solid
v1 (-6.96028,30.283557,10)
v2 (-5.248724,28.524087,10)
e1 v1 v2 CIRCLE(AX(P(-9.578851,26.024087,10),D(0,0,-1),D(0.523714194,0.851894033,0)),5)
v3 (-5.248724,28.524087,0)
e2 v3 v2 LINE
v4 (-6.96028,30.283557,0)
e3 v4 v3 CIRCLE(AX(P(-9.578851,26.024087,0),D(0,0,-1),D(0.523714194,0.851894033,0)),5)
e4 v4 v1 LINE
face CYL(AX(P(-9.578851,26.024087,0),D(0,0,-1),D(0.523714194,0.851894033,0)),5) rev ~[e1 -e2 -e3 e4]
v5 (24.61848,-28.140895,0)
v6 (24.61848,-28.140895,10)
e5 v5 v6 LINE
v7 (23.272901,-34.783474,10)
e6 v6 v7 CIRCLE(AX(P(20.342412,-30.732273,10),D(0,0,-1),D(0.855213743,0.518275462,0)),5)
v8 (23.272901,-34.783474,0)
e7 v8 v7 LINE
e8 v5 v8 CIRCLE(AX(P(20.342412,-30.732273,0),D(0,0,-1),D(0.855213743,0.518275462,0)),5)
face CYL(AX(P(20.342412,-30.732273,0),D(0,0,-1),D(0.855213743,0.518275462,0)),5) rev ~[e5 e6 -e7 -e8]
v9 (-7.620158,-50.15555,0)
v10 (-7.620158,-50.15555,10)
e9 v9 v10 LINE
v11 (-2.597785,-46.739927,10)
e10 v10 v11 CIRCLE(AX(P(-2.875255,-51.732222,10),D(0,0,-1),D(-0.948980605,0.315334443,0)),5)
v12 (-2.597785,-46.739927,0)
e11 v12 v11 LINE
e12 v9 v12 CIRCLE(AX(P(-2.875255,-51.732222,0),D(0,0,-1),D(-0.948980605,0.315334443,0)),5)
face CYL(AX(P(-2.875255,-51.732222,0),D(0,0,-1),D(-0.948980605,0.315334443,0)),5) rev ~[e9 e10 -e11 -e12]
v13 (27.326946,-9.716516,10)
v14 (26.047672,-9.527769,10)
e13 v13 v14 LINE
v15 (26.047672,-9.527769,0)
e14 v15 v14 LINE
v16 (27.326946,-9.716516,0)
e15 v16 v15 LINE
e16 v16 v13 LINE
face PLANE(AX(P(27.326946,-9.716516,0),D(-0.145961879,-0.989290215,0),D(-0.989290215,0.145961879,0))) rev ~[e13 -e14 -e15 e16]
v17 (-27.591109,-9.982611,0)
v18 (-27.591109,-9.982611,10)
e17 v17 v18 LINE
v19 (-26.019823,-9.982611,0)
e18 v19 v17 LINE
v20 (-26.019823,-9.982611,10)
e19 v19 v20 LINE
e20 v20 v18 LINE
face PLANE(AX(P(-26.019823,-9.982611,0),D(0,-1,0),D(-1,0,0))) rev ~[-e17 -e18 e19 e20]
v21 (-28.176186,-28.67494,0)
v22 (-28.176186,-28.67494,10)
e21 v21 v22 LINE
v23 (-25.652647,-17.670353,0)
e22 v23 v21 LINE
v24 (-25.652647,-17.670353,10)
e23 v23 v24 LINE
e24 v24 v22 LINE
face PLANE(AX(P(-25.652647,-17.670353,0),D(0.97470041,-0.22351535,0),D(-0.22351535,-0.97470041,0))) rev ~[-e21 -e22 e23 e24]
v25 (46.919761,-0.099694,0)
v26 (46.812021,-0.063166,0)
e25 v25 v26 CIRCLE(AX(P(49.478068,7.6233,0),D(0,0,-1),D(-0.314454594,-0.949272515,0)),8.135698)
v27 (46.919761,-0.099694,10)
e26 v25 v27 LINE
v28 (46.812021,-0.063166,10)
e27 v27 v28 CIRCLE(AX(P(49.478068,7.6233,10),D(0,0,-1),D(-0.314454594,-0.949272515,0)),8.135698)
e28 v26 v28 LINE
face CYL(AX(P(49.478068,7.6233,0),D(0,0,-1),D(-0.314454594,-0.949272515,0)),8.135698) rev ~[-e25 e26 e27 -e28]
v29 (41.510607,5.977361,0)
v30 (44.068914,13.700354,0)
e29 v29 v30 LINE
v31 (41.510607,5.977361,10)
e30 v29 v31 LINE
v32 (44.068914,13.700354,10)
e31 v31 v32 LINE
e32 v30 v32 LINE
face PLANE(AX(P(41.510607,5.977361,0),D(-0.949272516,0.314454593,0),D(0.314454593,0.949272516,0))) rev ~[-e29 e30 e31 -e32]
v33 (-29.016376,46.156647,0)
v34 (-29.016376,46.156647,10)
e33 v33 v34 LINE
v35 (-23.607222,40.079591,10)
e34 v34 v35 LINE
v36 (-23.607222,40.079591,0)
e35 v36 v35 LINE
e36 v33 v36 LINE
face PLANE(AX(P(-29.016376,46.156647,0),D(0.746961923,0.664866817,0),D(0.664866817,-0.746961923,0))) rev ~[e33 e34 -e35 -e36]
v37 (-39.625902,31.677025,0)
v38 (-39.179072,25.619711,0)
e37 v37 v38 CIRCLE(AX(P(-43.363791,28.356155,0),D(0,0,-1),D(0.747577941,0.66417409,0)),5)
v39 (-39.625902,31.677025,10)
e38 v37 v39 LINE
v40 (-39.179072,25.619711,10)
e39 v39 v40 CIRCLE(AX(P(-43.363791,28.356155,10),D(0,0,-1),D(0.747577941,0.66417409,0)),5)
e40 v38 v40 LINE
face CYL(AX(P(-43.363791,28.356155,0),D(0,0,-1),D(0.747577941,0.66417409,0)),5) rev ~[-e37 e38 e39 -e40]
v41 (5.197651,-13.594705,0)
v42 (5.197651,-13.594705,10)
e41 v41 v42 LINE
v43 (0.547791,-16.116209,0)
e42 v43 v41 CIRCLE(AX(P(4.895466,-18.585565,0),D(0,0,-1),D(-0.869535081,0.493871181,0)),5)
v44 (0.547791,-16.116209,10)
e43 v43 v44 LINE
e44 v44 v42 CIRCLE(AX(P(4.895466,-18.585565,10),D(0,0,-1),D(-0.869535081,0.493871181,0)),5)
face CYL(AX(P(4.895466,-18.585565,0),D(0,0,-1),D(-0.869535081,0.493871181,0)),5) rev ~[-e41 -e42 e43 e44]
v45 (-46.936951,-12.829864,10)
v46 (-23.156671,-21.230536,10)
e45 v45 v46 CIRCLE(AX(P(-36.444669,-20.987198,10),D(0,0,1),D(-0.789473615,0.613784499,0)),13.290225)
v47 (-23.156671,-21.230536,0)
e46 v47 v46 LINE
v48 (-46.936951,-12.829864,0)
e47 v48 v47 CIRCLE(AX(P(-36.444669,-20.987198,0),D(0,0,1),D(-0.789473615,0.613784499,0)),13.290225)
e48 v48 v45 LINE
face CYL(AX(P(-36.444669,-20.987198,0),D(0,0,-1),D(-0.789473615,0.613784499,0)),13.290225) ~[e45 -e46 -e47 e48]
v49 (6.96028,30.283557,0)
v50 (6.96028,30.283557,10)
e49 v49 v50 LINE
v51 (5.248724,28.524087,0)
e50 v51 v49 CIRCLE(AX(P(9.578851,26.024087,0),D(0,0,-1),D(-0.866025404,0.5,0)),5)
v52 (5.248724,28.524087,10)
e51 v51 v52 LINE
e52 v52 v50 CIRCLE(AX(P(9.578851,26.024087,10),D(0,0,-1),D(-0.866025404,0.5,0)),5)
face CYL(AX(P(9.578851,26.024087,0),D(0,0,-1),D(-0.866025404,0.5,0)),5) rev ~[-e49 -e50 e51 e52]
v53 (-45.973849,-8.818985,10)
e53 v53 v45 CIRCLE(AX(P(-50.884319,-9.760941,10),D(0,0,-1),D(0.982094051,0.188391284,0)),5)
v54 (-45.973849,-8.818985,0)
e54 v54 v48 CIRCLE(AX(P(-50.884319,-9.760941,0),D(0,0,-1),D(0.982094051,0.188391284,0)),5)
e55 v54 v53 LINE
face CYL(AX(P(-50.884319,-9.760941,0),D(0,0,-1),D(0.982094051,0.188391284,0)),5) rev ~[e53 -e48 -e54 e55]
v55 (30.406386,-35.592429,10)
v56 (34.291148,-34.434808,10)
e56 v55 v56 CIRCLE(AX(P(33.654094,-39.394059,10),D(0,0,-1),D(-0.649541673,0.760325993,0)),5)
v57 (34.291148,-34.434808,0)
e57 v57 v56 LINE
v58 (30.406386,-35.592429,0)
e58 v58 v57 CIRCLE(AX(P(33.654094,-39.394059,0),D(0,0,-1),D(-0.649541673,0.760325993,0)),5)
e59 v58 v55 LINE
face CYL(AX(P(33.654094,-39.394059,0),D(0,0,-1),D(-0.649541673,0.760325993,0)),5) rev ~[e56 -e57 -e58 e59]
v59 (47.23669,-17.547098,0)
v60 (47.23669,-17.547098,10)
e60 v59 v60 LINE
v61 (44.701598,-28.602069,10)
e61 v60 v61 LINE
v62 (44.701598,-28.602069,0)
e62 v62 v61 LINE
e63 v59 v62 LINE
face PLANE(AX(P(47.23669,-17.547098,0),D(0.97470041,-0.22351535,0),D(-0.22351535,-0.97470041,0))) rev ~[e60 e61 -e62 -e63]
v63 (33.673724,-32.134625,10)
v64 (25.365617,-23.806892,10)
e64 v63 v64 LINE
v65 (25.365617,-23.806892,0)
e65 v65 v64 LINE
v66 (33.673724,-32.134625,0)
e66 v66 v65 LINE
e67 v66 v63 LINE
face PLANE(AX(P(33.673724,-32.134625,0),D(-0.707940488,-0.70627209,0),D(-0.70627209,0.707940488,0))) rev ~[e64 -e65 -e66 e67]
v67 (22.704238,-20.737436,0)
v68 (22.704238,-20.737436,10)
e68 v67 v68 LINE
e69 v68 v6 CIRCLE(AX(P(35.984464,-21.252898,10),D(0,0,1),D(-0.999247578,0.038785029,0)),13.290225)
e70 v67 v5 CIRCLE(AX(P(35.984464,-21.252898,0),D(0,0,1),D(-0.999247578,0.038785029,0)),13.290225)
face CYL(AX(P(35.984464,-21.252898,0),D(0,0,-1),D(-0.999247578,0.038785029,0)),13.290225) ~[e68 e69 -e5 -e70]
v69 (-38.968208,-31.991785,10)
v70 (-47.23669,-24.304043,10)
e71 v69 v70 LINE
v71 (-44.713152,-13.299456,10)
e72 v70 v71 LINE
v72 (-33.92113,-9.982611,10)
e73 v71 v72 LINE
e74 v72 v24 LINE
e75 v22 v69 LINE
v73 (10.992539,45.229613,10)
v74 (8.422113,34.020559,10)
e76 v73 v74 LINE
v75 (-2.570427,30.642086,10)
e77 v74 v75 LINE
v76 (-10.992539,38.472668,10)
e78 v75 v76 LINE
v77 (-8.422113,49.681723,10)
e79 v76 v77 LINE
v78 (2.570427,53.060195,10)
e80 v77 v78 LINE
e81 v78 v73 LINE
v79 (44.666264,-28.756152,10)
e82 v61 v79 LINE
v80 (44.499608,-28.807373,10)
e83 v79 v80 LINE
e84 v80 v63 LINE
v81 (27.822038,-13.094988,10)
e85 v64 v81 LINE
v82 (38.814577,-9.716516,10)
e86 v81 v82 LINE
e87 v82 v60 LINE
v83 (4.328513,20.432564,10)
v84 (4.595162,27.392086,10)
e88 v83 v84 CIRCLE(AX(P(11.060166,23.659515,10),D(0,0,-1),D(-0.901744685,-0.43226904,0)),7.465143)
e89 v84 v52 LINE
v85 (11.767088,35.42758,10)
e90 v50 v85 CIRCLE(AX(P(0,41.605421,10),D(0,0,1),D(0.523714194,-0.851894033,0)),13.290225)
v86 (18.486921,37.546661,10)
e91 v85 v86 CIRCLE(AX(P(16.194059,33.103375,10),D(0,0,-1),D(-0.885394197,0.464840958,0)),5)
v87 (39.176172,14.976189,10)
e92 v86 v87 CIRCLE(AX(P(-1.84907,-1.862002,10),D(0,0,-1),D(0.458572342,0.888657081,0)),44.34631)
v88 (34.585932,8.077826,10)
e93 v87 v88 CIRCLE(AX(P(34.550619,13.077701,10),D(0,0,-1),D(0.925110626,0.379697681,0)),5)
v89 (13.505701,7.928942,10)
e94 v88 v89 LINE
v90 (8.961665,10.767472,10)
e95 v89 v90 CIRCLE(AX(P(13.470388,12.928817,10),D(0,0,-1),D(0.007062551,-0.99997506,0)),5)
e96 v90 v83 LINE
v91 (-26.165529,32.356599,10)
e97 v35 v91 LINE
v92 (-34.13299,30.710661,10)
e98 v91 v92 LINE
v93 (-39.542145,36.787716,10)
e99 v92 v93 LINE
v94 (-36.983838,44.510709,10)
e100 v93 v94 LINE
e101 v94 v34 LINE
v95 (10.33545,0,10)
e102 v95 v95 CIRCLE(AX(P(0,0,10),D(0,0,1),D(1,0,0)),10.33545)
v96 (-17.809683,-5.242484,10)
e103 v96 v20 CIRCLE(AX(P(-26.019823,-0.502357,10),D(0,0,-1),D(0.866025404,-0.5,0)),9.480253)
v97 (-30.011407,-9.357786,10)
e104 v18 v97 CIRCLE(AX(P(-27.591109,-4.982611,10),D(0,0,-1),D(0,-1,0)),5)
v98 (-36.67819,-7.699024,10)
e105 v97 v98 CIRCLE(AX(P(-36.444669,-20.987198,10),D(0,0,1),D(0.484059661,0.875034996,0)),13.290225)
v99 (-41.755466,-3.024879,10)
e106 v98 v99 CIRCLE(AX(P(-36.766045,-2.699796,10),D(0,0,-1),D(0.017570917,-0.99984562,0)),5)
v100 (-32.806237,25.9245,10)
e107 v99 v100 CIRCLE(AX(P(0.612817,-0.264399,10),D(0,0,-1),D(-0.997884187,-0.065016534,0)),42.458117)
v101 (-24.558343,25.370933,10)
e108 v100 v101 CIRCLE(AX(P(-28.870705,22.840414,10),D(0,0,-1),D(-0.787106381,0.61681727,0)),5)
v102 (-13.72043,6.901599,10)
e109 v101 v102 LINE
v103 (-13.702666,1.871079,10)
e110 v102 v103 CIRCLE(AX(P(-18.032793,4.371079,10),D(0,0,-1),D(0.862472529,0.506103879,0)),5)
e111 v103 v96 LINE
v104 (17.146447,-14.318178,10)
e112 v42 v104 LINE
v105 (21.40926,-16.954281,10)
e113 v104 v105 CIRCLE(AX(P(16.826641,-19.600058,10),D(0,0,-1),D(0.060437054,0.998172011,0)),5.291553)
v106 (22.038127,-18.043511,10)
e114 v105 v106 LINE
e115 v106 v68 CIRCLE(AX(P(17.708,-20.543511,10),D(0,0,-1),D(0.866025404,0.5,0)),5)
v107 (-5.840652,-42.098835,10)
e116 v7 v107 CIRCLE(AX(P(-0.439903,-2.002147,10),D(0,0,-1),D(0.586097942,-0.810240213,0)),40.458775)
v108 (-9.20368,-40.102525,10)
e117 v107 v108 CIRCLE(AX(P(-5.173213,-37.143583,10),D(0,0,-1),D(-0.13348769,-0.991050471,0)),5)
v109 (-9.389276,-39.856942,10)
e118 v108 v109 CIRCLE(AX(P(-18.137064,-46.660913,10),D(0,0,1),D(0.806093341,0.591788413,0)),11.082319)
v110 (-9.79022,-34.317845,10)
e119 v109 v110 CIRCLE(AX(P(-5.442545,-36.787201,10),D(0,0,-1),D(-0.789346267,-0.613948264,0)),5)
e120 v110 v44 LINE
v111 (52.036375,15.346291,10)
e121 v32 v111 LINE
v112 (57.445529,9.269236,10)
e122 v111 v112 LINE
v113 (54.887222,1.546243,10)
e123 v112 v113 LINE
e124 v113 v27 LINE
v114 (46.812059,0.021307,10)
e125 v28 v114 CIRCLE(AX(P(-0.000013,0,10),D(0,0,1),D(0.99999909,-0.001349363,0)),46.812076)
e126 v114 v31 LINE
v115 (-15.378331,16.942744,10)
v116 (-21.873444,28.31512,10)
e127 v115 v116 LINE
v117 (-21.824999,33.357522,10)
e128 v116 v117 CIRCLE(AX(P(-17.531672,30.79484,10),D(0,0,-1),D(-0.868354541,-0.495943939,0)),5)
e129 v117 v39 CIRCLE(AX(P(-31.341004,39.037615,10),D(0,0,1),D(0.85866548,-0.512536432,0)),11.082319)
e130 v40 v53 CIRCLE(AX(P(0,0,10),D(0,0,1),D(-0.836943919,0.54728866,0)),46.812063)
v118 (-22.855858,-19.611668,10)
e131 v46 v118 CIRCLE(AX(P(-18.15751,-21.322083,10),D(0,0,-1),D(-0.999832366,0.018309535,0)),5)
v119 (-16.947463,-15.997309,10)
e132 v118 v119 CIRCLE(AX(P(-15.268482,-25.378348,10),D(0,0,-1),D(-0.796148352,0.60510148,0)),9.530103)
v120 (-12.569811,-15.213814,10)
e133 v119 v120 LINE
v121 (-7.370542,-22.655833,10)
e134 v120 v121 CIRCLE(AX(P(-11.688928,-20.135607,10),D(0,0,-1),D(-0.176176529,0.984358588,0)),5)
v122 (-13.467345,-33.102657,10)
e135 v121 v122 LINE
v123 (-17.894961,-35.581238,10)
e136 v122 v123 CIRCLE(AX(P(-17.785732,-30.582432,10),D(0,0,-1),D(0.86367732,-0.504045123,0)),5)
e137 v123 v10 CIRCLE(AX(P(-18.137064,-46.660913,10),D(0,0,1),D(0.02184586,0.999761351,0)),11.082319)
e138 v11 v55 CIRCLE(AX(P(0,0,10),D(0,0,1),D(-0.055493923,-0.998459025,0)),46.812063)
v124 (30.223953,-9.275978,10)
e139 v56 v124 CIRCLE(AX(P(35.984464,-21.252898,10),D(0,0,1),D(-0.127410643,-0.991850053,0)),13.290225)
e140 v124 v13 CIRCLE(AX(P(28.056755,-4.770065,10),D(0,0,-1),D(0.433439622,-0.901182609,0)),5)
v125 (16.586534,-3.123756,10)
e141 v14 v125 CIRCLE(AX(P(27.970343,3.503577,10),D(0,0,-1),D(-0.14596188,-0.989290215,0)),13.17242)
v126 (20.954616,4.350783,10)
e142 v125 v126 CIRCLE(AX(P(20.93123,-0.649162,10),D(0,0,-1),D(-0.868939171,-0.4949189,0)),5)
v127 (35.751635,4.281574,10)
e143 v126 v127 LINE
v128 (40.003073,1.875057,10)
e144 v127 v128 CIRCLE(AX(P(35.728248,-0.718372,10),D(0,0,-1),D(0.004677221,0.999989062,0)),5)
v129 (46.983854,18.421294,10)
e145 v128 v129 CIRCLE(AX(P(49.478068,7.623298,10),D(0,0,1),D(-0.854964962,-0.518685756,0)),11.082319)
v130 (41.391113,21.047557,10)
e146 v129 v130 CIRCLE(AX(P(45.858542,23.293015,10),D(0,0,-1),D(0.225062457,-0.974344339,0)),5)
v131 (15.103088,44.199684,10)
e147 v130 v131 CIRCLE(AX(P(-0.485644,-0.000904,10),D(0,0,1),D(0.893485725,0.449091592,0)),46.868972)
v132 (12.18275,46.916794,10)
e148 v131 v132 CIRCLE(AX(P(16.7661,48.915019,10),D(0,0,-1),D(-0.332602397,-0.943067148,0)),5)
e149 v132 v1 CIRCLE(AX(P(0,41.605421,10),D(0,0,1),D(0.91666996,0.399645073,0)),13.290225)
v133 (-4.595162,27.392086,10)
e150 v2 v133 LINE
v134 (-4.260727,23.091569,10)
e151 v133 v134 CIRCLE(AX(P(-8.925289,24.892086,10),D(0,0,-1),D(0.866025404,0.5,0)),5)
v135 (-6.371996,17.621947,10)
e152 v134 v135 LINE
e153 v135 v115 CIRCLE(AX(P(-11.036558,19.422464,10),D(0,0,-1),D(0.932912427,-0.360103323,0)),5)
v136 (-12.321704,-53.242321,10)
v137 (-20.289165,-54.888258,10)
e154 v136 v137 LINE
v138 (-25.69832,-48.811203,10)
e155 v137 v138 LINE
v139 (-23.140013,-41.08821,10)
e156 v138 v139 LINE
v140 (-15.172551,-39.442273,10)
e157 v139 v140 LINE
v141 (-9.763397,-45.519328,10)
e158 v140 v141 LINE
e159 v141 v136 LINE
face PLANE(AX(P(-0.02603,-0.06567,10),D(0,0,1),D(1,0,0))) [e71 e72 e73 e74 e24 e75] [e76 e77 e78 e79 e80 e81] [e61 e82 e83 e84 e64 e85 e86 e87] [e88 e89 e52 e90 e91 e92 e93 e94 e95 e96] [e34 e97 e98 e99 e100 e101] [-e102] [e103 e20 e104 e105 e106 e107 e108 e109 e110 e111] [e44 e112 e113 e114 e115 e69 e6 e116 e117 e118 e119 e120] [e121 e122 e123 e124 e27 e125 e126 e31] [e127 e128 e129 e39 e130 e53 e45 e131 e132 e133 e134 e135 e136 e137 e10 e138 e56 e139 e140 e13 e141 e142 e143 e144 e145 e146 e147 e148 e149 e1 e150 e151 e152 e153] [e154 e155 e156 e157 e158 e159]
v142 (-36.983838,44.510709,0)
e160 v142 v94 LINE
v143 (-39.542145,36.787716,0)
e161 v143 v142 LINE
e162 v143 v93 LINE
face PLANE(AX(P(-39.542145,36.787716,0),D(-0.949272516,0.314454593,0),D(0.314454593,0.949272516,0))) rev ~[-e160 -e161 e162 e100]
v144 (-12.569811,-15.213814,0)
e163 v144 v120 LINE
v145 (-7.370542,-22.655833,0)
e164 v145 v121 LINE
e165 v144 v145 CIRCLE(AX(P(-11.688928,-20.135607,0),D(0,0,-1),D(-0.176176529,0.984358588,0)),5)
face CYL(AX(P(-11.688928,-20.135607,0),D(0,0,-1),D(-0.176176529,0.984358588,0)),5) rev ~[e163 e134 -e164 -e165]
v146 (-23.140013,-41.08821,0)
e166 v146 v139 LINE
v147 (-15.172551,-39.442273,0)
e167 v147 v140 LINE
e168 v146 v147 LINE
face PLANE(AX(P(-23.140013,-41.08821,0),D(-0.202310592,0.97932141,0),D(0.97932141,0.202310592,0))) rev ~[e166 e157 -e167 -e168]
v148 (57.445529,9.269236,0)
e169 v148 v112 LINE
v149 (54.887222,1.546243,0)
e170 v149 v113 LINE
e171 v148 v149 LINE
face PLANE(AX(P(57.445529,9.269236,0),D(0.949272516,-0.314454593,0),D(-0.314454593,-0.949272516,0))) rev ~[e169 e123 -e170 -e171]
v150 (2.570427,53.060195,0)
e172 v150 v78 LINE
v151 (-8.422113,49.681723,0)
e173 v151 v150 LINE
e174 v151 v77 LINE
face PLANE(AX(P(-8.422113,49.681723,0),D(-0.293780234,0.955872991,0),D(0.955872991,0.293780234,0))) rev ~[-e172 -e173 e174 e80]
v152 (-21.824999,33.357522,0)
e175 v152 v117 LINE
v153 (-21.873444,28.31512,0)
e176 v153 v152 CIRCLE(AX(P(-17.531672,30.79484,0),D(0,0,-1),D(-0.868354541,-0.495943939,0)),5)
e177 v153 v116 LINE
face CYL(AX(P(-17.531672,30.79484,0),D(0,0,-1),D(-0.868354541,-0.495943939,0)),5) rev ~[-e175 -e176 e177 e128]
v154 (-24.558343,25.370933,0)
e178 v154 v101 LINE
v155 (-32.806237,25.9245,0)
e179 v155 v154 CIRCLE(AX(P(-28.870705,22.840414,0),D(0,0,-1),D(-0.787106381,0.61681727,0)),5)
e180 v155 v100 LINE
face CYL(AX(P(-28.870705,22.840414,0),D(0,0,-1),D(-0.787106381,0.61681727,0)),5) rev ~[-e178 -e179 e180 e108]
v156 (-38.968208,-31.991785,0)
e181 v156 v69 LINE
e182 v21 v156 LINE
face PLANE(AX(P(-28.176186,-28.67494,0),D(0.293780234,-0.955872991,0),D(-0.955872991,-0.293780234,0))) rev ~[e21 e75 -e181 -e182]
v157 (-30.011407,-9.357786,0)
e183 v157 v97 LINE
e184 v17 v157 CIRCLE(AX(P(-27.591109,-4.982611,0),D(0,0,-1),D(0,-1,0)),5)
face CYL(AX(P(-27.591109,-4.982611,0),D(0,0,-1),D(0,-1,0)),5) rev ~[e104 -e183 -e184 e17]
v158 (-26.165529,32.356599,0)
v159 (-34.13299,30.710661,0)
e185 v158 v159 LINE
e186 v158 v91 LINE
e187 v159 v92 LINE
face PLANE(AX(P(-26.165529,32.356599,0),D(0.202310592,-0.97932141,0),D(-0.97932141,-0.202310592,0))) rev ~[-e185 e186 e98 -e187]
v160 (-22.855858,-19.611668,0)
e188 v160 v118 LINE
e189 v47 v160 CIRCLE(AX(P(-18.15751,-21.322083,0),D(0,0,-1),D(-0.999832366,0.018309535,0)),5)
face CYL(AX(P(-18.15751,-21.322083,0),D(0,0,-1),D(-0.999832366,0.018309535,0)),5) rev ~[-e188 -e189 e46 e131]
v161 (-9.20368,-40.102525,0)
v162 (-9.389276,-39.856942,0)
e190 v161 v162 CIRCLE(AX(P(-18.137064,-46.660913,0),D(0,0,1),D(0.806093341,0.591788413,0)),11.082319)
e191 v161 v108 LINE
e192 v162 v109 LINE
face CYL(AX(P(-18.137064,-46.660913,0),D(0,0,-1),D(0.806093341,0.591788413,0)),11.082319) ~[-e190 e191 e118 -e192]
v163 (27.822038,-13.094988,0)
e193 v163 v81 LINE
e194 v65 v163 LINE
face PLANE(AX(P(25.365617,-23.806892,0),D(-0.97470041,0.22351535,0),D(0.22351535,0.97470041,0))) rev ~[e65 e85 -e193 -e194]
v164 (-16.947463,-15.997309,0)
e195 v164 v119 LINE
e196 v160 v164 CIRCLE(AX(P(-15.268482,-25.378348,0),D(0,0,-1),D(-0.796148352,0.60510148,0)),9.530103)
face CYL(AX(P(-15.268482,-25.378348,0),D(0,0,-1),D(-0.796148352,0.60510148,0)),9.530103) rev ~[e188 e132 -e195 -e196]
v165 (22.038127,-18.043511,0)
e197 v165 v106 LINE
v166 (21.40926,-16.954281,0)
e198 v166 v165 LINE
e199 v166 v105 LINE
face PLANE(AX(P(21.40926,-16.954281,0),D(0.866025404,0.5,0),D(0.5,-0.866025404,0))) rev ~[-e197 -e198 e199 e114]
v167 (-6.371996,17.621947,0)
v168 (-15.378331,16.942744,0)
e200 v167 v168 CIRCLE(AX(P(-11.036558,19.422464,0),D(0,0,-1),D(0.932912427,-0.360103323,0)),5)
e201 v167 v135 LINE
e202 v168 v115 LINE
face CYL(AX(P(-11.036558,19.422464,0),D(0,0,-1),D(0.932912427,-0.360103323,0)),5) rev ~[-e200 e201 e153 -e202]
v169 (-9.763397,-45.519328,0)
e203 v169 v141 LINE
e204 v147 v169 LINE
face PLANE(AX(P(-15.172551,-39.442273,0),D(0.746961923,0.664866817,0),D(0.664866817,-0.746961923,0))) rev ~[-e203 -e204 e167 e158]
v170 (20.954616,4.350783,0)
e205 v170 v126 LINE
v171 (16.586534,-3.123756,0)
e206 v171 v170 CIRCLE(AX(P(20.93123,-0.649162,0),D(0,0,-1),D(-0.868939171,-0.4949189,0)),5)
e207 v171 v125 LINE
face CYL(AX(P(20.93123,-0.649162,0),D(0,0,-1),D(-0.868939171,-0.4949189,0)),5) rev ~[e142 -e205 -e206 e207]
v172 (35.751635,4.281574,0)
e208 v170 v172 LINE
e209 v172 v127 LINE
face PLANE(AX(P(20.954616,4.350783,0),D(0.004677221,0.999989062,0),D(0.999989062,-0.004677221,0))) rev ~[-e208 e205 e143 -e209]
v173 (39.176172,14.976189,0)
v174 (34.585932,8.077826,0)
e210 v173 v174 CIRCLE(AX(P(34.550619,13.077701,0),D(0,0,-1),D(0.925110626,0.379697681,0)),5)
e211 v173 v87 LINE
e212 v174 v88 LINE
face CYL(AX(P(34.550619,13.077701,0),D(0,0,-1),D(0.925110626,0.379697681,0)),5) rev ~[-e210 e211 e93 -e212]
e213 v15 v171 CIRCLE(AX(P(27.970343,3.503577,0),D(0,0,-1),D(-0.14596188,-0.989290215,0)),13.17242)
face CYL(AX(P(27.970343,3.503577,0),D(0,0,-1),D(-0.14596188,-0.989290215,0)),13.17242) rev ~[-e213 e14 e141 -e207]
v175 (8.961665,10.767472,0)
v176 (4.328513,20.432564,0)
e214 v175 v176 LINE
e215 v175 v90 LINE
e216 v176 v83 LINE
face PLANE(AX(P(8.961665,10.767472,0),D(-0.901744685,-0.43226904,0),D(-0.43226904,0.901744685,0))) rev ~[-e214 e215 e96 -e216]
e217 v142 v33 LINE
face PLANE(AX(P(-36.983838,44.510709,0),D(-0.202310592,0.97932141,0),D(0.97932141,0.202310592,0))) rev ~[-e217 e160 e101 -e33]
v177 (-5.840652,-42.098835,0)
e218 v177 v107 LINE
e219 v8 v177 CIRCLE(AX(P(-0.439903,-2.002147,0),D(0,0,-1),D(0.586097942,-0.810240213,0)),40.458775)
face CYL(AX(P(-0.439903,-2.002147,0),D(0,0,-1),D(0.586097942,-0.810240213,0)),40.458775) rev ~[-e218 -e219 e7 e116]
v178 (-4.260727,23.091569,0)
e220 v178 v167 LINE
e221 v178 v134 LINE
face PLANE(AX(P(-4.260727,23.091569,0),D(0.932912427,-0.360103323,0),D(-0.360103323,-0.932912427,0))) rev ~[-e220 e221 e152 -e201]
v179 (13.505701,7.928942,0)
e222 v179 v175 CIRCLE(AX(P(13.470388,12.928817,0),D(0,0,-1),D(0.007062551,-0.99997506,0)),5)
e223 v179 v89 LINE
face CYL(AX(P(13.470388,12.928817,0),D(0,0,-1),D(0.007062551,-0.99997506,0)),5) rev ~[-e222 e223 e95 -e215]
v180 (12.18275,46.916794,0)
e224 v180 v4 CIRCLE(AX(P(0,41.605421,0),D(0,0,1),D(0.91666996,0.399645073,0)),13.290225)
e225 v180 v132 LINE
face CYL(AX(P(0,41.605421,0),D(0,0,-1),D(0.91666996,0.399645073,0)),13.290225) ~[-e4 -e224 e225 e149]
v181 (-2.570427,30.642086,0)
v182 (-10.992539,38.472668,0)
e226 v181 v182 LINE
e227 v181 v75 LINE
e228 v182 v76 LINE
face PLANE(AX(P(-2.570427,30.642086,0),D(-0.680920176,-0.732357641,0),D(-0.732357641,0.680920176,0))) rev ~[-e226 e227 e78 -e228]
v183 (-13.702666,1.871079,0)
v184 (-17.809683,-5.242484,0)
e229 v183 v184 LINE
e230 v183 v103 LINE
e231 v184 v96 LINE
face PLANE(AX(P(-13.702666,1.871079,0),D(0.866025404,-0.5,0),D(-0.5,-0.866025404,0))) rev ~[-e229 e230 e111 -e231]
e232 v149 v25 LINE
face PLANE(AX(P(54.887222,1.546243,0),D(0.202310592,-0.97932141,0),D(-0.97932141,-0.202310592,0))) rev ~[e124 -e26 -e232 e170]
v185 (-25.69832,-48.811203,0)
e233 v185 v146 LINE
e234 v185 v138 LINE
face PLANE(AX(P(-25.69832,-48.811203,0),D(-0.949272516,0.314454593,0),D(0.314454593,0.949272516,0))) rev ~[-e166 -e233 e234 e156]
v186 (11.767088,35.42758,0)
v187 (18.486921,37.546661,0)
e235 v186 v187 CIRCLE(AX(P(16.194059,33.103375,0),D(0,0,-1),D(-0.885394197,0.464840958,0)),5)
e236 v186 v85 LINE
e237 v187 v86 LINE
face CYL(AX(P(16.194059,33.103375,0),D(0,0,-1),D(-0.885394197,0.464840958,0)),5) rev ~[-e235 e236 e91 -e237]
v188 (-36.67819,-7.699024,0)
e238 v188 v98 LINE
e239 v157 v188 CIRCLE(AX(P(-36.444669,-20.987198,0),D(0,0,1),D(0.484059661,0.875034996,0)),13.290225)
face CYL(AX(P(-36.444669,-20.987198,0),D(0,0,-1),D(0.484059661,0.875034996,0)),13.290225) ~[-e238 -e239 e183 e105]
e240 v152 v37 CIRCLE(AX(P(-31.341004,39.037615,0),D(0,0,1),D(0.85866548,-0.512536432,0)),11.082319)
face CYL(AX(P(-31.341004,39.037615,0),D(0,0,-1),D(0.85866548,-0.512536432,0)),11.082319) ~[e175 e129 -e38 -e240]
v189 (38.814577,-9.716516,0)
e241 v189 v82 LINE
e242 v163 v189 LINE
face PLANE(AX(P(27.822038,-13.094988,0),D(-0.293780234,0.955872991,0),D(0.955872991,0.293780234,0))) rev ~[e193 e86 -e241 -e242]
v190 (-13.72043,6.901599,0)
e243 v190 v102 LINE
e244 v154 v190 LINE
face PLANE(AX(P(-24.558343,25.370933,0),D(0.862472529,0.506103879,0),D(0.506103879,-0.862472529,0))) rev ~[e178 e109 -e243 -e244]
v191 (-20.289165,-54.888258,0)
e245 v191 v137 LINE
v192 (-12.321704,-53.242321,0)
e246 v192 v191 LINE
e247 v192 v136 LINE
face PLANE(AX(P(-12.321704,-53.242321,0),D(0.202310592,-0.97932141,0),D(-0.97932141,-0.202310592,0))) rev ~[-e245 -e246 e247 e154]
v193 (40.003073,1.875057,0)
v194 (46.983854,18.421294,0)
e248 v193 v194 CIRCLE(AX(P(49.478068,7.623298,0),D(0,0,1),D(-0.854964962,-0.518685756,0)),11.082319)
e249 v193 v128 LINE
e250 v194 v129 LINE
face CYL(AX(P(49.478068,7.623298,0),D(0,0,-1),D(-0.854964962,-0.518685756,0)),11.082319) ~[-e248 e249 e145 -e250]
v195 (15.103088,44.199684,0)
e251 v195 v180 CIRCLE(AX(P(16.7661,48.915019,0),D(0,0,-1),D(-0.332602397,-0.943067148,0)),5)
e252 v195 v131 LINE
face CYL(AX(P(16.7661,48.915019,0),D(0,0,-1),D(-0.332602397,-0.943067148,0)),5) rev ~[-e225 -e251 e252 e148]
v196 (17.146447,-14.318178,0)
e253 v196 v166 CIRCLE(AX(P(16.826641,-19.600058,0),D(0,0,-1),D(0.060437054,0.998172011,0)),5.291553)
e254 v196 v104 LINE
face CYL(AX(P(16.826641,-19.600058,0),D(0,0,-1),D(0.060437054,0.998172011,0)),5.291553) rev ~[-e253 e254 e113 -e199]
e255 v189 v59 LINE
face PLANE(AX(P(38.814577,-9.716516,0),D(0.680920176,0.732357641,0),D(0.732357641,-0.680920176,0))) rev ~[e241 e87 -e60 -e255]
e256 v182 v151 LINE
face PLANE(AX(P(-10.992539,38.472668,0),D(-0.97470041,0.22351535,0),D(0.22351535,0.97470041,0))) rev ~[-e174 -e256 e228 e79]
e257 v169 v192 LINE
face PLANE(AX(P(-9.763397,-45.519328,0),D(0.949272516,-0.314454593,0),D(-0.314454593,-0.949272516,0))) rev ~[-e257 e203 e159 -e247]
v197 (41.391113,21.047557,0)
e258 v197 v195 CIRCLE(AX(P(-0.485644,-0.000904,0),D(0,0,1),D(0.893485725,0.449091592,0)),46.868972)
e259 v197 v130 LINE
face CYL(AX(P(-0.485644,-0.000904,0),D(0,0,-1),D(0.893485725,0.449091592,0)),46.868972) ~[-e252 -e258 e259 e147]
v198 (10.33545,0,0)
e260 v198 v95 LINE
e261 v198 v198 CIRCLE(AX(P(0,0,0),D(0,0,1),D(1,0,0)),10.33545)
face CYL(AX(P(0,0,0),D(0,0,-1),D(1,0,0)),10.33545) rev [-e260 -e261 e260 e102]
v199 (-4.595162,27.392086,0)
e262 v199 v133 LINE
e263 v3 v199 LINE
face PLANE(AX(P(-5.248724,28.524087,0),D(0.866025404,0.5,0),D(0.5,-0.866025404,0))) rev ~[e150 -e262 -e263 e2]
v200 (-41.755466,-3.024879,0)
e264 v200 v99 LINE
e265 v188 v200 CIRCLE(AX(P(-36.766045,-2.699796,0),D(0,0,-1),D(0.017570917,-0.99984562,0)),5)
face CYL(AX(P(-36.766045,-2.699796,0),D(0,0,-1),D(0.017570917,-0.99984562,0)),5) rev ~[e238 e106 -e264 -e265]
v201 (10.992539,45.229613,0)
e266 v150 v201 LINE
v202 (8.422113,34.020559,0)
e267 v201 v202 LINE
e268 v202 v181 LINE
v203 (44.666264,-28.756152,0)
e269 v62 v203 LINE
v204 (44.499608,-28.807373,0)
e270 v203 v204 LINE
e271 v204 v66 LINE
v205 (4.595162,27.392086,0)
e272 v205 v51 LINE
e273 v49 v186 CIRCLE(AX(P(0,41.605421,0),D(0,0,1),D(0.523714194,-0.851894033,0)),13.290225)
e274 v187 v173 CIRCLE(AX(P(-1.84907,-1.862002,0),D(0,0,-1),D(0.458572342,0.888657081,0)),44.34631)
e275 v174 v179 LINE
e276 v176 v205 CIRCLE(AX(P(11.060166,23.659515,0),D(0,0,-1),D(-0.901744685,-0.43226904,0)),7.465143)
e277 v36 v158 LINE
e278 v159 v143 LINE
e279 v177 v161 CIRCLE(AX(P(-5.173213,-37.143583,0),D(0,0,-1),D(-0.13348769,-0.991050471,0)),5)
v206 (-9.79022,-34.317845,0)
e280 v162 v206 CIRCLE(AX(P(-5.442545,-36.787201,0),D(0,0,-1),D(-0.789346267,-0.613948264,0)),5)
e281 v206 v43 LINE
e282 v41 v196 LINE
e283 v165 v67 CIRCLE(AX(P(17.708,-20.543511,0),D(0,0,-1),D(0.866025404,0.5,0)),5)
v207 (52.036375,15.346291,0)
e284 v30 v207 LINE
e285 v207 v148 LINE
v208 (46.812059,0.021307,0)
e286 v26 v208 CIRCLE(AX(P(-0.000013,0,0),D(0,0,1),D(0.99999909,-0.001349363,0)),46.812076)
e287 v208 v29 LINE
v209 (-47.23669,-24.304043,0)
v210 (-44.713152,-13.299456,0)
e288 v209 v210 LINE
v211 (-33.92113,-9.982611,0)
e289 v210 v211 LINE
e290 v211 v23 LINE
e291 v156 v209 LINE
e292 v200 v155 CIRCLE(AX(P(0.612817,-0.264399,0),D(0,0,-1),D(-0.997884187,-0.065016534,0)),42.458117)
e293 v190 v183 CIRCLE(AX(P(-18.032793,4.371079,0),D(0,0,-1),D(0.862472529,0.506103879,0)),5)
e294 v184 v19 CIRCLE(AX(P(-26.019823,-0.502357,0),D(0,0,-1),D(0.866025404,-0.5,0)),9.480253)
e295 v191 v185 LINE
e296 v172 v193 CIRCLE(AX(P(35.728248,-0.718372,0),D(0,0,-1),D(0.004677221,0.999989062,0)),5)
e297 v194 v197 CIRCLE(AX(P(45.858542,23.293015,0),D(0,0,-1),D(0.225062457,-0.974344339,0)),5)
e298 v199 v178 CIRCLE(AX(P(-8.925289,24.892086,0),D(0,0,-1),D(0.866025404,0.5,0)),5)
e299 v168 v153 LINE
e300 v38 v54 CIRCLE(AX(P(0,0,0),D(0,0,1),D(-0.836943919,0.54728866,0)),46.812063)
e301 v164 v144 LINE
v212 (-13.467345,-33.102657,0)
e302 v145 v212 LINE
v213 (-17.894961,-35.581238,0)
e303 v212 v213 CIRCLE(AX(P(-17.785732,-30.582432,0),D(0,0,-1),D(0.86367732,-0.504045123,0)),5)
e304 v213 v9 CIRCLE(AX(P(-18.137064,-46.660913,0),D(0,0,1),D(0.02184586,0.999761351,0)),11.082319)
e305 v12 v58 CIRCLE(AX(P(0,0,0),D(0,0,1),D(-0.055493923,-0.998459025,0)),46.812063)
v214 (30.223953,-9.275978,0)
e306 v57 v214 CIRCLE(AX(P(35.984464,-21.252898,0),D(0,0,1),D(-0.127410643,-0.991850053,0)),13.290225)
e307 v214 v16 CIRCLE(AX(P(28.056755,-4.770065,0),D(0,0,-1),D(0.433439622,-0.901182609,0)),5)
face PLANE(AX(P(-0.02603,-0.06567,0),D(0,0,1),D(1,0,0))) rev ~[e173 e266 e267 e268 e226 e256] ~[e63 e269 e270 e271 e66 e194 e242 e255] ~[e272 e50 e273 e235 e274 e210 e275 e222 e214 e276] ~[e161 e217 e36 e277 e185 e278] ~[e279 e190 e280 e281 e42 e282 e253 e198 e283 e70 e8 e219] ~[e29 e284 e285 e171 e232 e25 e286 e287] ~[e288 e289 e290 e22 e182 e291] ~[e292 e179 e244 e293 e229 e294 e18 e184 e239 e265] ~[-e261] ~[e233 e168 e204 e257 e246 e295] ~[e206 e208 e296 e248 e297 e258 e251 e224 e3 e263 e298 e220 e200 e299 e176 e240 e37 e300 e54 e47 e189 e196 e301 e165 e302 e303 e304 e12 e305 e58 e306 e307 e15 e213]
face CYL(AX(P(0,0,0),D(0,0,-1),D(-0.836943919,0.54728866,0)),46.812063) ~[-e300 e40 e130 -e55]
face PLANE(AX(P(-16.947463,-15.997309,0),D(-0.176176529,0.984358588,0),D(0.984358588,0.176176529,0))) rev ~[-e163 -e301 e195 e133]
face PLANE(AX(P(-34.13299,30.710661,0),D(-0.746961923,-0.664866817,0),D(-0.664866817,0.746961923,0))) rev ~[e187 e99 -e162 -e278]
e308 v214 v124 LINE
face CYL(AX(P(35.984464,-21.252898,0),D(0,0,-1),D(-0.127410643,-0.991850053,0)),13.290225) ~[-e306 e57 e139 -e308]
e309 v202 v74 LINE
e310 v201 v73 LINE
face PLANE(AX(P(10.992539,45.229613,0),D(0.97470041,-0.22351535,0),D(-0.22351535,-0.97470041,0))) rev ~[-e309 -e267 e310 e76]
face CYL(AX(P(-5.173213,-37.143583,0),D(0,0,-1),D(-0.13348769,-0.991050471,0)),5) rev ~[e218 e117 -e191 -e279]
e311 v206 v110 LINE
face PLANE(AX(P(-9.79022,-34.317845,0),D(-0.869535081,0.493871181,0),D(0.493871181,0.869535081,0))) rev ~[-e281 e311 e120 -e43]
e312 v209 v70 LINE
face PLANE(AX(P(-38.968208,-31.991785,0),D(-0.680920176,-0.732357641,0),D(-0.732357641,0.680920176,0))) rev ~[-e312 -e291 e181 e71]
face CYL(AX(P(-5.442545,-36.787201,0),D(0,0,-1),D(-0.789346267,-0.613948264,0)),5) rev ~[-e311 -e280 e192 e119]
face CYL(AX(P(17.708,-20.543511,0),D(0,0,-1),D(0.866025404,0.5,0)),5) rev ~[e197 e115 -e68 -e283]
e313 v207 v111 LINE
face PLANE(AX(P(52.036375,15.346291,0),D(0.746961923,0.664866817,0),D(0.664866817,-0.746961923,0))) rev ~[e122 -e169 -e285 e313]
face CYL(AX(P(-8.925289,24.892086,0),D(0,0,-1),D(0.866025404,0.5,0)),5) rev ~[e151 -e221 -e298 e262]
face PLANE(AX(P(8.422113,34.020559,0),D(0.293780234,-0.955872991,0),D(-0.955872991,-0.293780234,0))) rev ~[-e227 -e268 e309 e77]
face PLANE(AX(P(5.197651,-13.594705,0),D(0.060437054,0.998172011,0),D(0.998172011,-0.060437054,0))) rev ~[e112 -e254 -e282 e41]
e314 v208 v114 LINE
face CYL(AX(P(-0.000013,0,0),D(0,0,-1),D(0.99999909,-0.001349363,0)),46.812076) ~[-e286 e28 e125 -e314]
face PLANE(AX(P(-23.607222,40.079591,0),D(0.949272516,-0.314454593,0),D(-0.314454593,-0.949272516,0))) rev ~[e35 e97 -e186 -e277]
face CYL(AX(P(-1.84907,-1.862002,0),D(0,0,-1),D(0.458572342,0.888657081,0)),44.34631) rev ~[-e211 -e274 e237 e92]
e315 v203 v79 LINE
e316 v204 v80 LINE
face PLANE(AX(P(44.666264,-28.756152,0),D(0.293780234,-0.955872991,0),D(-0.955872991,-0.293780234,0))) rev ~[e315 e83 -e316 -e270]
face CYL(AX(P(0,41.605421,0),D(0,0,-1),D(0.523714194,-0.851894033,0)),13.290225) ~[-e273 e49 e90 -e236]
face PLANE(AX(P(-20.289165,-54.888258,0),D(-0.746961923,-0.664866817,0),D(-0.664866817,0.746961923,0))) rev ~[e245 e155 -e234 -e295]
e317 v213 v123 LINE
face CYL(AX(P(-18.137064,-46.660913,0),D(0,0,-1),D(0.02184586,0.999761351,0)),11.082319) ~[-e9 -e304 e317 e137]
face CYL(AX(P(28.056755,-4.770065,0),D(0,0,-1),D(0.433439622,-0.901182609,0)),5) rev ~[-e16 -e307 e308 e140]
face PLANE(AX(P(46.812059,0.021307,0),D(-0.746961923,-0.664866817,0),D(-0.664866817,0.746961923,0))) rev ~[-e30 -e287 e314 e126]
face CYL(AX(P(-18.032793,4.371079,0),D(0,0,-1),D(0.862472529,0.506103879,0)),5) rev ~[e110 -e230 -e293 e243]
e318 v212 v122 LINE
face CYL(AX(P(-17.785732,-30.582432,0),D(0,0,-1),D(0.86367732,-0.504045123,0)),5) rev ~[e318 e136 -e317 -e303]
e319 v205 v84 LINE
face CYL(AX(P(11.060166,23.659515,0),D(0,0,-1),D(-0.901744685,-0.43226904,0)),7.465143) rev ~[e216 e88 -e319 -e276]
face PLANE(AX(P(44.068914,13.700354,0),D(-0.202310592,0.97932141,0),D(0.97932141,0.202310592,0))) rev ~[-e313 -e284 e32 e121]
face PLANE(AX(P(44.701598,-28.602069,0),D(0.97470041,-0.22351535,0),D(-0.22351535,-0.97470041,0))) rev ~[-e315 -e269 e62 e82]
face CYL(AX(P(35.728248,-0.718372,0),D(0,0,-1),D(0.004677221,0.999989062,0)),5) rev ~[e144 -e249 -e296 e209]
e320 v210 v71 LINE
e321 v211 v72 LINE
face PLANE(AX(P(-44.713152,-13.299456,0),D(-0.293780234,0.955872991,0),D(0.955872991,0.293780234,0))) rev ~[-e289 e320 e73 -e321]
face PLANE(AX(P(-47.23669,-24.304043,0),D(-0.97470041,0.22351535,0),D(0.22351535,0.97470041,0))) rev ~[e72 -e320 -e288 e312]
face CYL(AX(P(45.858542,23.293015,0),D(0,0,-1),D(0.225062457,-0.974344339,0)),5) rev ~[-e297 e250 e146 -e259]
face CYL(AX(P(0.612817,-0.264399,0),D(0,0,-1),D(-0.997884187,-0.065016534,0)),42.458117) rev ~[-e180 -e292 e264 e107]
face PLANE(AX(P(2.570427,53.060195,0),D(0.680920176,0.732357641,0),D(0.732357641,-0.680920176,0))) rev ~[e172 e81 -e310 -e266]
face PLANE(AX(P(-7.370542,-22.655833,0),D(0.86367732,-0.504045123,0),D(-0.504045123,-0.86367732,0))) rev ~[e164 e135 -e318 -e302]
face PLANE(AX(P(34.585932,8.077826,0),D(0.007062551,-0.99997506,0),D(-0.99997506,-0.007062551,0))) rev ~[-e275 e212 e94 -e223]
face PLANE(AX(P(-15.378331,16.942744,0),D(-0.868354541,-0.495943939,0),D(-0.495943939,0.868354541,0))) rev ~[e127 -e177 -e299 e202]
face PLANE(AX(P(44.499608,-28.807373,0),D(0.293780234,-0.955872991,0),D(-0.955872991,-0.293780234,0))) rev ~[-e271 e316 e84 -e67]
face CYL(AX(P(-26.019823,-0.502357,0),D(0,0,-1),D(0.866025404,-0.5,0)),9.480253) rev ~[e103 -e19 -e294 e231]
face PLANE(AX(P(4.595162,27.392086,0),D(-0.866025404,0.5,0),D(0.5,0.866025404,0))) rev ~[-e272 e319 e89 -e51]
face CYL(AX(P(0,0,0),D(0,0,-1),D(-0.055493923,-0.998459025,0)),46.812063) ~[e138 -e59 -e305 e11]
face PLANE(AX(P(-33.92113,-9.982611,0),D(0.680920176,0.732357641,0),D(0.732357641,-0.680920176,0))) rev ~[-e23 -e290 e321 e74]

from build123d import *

# Parameters (mm, degrees)
F0_R     = 10.3354497049
F1_DEPTH = 10


with BuildPart() as f1:
    # F0 (on Top) → F1 (new body)
    with BuildSketch(Plane.XY):
        with BuildLine():
            ThreePointArc((26.0476715205, -9.5277688633), (20.5866821195, -7.4048691039), (16.5865343387, -3.1237563563))
            ThreePointArc((16.5865343387, -3.1237563563), (16.6143313263, 1.8736112558), (20.9546162977, 4.350783452))
            Line((20.9546162977, 4.350783452), (35.7516345046, 4.2815737703))
            ThreePointArc((35.7516345046, 4.2815737703), (38.1912718914, 3.6328944013), (40.0030732107, 1.875057241))
            ThreePointArc((40.0030732107, 1.875057241), (59.6888453726, 3.3154186125), (46.9838539695, 18.4212936265))
            ThreePointArc((46.9838539695, 18.4212936265), (43.7332768295, 18.7671729362), (41.391113059, 21.0475573584))
            ThreePointArc((41.391113059, 21.0475573584), (30.4913773374, 35.1718790284), (15.1030881654, 44.199683734))
            ThreePointArc((15.1030881654, 44.199683734), (13.3602329953, 45.2544090168), (12.1827503516, 46.9167941077))
            ThreePointArc((12.1827503516, 46.9167941077), (-8.7169198304, 51.6376390641), (-6.9602796681, 30.2835573428))
            ThreePointArc((-6.9602796681, 30.2835573428), (-5.9948536036, 29.5104843528), (-5.2487236207, 28.52408718))
            Line((-5.2487236207, 28.52408718), (-4.5951623795, 27.3920859044))
            ThreePointArc((-4.5951623795, 27.3920859044), (-3.9403401472, 25.2797467908), (-4.2607272631, 23.0915692881))
            Line((-4.2607272631, 23.0915692881), (-6.3719962821, 17.6219471616))
            ThreePointArc((-6.3719962821, 17.6219471616), (-10.6605564778, 14.4366215681), (-15.3783311249, 16.9427440847))
            Line((-15.3783311249, 16.9427440847), (-21.8734443287, 28.3151202921))
            ThreePointArc((-21.8734443287, 28.3151202921), (-22.531440873, 30.8428756983), (-21.8249990194, 33.3575221452))
            ThreePointArc((-21.8249990194, 33.3575221452), (-32.3826009658, 50.070876996), (-39.625901643, 31.6770251828))
            ThreePointArc((-39.625901643, 31.6770251828), (-38.3773400055, 28.7239903076), (-39.1790717552, 25.619711432))
            ThreePointArc((-39.1790717552, 25.619711432), (-45.9266907543, 9.0613660016), (-45.9738489372, -8.8189847124))
            ThreePointArc((-45.9738489372, -8.8189847124), (-46.0225178396, -10.9283689132), (-46.9369511167, -12.8298636279))
            ThreePointArc((-46.9369511167, -12.8298636279), (-40.8714994553, -33.5184892265), (-23.1566713845, -21.2305357989))
            ThreePointArc((-23.1566713845, -21.2305357989), (-23.0733624914, -20.408634033), (-22.8558581112, -19.6116680808))
            ThreePointArc((-22.8558581112, -19.6116680808), (-20.2416339534, -17.248733359), (-16.9474626281, -15.9973086803))
            Line((-16.9474626281, -15.9973086803), (-12.5698108847, -15.2138142303))
            ThreePointArc((-12.5698108847, -15.2138142303), (-7.5901456855, -17.2720461747), (-7.3705416357, -22.6558327877))
            Line((-7.3705416357, -22.6558327877), (-13.4673451749, -33.1026572937))
            ThreePointArc((-13.4673451749, -33.1026572937), (-15.3433779099, -34.9453329591), (-17.8949610773, -35.5812384318))
            ThreePointArc((-17.8949610773, -35.5812384318), (-27.1947516812, -53.0465292991), (-7.6201577031, -50.1555500621))
            ThreePointArc((-7.6201577031, -50.1555500621), (-5.6870353017, -47.5977465283), (-2.5977850601, -46.7399271527))
            ThreePointArc((-2.5977850601, -46.7399271527), (14.979861549, -44.3505696179), (30.4063859475, -35.5924285638))
            ThreePointArc((30.4063859475, -35.5924285638), (32.226193311, -34.6022844585), (34.2911475267, -34.4348082622))
            ThreePointArc((34.2911475267, -34.4348082622), (49.1043559344, -19.1319266108), (30.223953434, -9.2759775653))
            ThreePointArc((30.223953434, -9.2759775653), (28.8084467622, -9.7132375899), (27.326945928, -9.7165155971))
            Line((27.326945928, -9.7165155971), (26.0476715205, -9.5277688633))
        make_face()
        Polygon((-25.6983195519, -48.8112031808), (-23.1400125477, -41.0882104714), (-15.1725511659, -39.442272973), (-9.7633967884, -45.5193281841), (-12.3217037926, -53.2423208936), (-20.2891651744, -54.888258392), align=None, mode=Mode.SUBTRACT)
        Polygon((-25.6526473767, -17.6703529021), (-28.1761860468, -28.6749401878), (-38.9682075294, -31.991785235), (-47.2366903419, -24.3040429964), (-44.7131516719, -13.2994557107), (-33.9211301893, -9.9826106636), align=None, mode=Mode.SUBTRACT)
        with BuildLine():
            ThreePointArc((17.1464472205, -14.3181778051), (19.6097516752, -15.0995212956), (21.4092604692, -16.9542812764))
            Line((21.4092604692, -16.9542812764), (22.0381273172, -18.0435106083))
            ThreePointArc((22.0381273172, -18.0435106083), (22.5618213465, -19.3433351078), (22.7042381867, -20.7374357532))
            ThreePointArc((22.7042381867, -20.7374357532), (23.1173853103, -24.5798156567), (24.6184803157, -28.1408952196))
            ThreePointArc((24.6184803157, -28.1408952196), (25.2428792275, -31.7249542816), (23.2729013133, -34.7834735932))
            ThreePointArc((23.2729013133, -34.7834735932), (9.419684867, -41.2411709688), (-5.8406517441, -42.0988351334))
            ThreePointArc((-5.8406517441, -42.0988351334), (-7.725446025, -41.4431302055), (-9.2036800008, -40.1025248397))
            ThreePointArc((-9.2036800008, -40.1025248397), (-9.295625501, -39.9790891343), (-9.3892764279, -39.8569422871))
            ThreePointArc((-9.3892764279, -39.8569422871), (-10.4294976001, -37.1481783868), (-9.7902204963, -34.3178450603))
            Line((-9.7902204963, -34.3178450603), (0.5477905756, -16.116209429))
            ThreePointArc((0.5477905756, -16.116209429), (2.5119825197, -14.1902261445), (5.1976512462, -13.5947052828))
            Line((5.1976512462, -13.5947052828), (17.1464472205, -14.3181778051))
        make_face(mode=Mode.SUBTRACT)
        with BuildLine():
            Line((16.6011031737, -3.1491618567), (16.5626926236, -3.0826328324))
            ThreePointArc((16.5626926236, -3.0826328324), (16.574594931, -3.103205349), (16.5865343387, -3.1237563563))
            ThreePointArc((16.5865343387, -3.1237563563), (16.5938001553, -3.1364697732), (16.6011031737, -3.1491618567))
        make_face(mode=Mode.SUBTRACT)
        Polygon((44.4996077616, -28.8073727903), (33.6737244283, -32.1346250176), (25.3656168325, -23.8068915105), (27.8220380789, -13.0949882861), (38.8145774711, -9.7165155971), (47.2366903419, -17.5470976183), (44.7015978404, -28.6020685768), (44.6662638205, -28.7561523286), align=None, mode=Mode.SUBTRACT)
        with BuildLine():
            ThreePointArc((-17.8096832999, -5.2424840404), (-21.2796968224, -8.7124975629), (-26.0198234456, -9.9826106636))
            Line((-26.0198234456, -9.9826106636), (-27.5911085786, -9.9826106636))
            ThreePointArc((-27.5911085786, -9.9826106636), (-28.8409335841, -9.8238850264), (-30.0114068814, -9.3577856459))
            ThreePointArc((-30.0114068814, -9.3577856459), (-33.2357643816, -8.090181928), (-36.6781903014, -7.6990243375))
            ThreePointArc((-36.6781903014, -7.6990243375), (-40.152524922, -6.3783493463), (-41.7554658188, -3.0248789097))
            ThreePointArc((-41.7554658188, -3.0248789097), (-39.9512896461, 12.2753331327), (-32.80623714, 25.9245003194))
            ThreePointArc((-32.80623714, 25.9245003194), (-28.5358777475, 27.8291904256), (-24.5583425883, 25.3709333601))
            Line((-24.5583425883, 25.3709333601), (-13.7204299658, 6.9015986867))
            ThreePointArc((-13.7204299658, 6.9015986867), (-13.0328237883, 4.3887357815), (-13.7026655941, 1.8710792937))
            Line((-13.7026655941, 1.8710792937), (-17.8096832999, -5.2424840404))
        make_face(mode=Mode.SUBTRACT)
        Circle(F0_R, mode=Mode.SUBTRACT)
        Polygon((-23.6072220849, 40.0795913092), (-26.1655290892, 32.3565985997), (-34.132990471, 30.7106611014), (-39.5421448485, 36.7877163125), (-36.9838378442, 44.510709022), (-29.0163764624, 46.1566465203), align=None, mode=Mode.SUBTRACT)
        Polygon((2.5704265214, 53.060195325), (10.9925393922, 45.2296133038), (8.4221128708, 34.0205585935), (-2.5704265214, 30.6420859044), (-10.9925393922, 38.4726679257), (-8.4221128708, 49.6817226359), align=None, mode=Mode.SUBTRACT)
        with BuildLine():
            ThreePointArc((4.3285128423, 20.4325643906), (3.6004962361, 23.9453268817), (4.5951623795, 27.3920859044))
            Line((4.5951623795, 27.3920859044), (5.2487236207, 28.52408718))
            ThreePointArc((5.2487236207, 28.52408718), (5.9948536036, 29.5104843528), (6.9602796681, 30.2835573428))
            ThreePointArc((6.9602796681, 30.2835573428), (9.71050055, 32.5314875149), (11.7670884139, 35.4275799367))
            ThreePointArc((11.7670884139, 35.4275799367), (14.6903203036, 37.8718936539), (18.4869211069, 37.5466605538))
            ThreePointArc((18.4869211069, 37.5466605538), (30.8412464649, 28.1036186684), (39.1761724906, 14.9761892458))
            ThreePointArc((39.1761724906, 14.9761892458), (38.7132835477, 10.307822352), (34.5859321139, 8.0778255422))
            Line((34.5859321139, 8.0778255422), (13.5057011722, 7.9289416207))
            ThreePointArc((13.5057011722, 7.9289416207), (10.8213953927, 8.6881995171), (8.9616649904, 10.7674717221))
            Line((8.9616649904, 10.7674717221), (4.3285128423, 20.4325643906))
        make_face(mode=Mode.SUBTRACT)
        with BuildLine():
            Line((54.8872223768, 1.5462432454), (46.919760995, -0.099694253))
            ThreePointArc((46.919760995, -0.099694253), (46.8658270284, -0.0816186896), (46.8120207581, -0.0631664804))
            ThreePointArc((46.8120207581, -0.0631664804), (46.8120586965, -0.020929805), (46.8120585264, 0.0213068875))
            Line((46.8120585264, 0.0213068875), (41.5106066175, 5.9773609582))
            Line((41.5106066175, 5.9773609582), (44.0689136218, 13.7003536676))
            Line((44.0689136218, 13.7003536676), (52.0363750036, 15.346291166))
            Line((52.0363750036, 15.346291166), (57.4455293811, 9.2692359549))
            Line((57.4455293811, 9.2692359549), (54.8872223768, 1.5462432454))
        make_face(mode=Mode.SUBTRACT)
        with BuildLine():
            ThreePointArc((16.5865343387, -3.1237563563), (16.574594931, -3.103205349), (16.5626926236, -3.0826328324))
            Line((16.5626926236, -3.0826328324), (16.6011031737, -3.1491618567))
            ThreePointArc((16.6011031737, -3.1491618567), (16.5938001553, -3.1364697732), (16.5865343387, -3.1237563563))
        make_face()
    extrude(amount=F1_DEPTH)


solid = f1.part
